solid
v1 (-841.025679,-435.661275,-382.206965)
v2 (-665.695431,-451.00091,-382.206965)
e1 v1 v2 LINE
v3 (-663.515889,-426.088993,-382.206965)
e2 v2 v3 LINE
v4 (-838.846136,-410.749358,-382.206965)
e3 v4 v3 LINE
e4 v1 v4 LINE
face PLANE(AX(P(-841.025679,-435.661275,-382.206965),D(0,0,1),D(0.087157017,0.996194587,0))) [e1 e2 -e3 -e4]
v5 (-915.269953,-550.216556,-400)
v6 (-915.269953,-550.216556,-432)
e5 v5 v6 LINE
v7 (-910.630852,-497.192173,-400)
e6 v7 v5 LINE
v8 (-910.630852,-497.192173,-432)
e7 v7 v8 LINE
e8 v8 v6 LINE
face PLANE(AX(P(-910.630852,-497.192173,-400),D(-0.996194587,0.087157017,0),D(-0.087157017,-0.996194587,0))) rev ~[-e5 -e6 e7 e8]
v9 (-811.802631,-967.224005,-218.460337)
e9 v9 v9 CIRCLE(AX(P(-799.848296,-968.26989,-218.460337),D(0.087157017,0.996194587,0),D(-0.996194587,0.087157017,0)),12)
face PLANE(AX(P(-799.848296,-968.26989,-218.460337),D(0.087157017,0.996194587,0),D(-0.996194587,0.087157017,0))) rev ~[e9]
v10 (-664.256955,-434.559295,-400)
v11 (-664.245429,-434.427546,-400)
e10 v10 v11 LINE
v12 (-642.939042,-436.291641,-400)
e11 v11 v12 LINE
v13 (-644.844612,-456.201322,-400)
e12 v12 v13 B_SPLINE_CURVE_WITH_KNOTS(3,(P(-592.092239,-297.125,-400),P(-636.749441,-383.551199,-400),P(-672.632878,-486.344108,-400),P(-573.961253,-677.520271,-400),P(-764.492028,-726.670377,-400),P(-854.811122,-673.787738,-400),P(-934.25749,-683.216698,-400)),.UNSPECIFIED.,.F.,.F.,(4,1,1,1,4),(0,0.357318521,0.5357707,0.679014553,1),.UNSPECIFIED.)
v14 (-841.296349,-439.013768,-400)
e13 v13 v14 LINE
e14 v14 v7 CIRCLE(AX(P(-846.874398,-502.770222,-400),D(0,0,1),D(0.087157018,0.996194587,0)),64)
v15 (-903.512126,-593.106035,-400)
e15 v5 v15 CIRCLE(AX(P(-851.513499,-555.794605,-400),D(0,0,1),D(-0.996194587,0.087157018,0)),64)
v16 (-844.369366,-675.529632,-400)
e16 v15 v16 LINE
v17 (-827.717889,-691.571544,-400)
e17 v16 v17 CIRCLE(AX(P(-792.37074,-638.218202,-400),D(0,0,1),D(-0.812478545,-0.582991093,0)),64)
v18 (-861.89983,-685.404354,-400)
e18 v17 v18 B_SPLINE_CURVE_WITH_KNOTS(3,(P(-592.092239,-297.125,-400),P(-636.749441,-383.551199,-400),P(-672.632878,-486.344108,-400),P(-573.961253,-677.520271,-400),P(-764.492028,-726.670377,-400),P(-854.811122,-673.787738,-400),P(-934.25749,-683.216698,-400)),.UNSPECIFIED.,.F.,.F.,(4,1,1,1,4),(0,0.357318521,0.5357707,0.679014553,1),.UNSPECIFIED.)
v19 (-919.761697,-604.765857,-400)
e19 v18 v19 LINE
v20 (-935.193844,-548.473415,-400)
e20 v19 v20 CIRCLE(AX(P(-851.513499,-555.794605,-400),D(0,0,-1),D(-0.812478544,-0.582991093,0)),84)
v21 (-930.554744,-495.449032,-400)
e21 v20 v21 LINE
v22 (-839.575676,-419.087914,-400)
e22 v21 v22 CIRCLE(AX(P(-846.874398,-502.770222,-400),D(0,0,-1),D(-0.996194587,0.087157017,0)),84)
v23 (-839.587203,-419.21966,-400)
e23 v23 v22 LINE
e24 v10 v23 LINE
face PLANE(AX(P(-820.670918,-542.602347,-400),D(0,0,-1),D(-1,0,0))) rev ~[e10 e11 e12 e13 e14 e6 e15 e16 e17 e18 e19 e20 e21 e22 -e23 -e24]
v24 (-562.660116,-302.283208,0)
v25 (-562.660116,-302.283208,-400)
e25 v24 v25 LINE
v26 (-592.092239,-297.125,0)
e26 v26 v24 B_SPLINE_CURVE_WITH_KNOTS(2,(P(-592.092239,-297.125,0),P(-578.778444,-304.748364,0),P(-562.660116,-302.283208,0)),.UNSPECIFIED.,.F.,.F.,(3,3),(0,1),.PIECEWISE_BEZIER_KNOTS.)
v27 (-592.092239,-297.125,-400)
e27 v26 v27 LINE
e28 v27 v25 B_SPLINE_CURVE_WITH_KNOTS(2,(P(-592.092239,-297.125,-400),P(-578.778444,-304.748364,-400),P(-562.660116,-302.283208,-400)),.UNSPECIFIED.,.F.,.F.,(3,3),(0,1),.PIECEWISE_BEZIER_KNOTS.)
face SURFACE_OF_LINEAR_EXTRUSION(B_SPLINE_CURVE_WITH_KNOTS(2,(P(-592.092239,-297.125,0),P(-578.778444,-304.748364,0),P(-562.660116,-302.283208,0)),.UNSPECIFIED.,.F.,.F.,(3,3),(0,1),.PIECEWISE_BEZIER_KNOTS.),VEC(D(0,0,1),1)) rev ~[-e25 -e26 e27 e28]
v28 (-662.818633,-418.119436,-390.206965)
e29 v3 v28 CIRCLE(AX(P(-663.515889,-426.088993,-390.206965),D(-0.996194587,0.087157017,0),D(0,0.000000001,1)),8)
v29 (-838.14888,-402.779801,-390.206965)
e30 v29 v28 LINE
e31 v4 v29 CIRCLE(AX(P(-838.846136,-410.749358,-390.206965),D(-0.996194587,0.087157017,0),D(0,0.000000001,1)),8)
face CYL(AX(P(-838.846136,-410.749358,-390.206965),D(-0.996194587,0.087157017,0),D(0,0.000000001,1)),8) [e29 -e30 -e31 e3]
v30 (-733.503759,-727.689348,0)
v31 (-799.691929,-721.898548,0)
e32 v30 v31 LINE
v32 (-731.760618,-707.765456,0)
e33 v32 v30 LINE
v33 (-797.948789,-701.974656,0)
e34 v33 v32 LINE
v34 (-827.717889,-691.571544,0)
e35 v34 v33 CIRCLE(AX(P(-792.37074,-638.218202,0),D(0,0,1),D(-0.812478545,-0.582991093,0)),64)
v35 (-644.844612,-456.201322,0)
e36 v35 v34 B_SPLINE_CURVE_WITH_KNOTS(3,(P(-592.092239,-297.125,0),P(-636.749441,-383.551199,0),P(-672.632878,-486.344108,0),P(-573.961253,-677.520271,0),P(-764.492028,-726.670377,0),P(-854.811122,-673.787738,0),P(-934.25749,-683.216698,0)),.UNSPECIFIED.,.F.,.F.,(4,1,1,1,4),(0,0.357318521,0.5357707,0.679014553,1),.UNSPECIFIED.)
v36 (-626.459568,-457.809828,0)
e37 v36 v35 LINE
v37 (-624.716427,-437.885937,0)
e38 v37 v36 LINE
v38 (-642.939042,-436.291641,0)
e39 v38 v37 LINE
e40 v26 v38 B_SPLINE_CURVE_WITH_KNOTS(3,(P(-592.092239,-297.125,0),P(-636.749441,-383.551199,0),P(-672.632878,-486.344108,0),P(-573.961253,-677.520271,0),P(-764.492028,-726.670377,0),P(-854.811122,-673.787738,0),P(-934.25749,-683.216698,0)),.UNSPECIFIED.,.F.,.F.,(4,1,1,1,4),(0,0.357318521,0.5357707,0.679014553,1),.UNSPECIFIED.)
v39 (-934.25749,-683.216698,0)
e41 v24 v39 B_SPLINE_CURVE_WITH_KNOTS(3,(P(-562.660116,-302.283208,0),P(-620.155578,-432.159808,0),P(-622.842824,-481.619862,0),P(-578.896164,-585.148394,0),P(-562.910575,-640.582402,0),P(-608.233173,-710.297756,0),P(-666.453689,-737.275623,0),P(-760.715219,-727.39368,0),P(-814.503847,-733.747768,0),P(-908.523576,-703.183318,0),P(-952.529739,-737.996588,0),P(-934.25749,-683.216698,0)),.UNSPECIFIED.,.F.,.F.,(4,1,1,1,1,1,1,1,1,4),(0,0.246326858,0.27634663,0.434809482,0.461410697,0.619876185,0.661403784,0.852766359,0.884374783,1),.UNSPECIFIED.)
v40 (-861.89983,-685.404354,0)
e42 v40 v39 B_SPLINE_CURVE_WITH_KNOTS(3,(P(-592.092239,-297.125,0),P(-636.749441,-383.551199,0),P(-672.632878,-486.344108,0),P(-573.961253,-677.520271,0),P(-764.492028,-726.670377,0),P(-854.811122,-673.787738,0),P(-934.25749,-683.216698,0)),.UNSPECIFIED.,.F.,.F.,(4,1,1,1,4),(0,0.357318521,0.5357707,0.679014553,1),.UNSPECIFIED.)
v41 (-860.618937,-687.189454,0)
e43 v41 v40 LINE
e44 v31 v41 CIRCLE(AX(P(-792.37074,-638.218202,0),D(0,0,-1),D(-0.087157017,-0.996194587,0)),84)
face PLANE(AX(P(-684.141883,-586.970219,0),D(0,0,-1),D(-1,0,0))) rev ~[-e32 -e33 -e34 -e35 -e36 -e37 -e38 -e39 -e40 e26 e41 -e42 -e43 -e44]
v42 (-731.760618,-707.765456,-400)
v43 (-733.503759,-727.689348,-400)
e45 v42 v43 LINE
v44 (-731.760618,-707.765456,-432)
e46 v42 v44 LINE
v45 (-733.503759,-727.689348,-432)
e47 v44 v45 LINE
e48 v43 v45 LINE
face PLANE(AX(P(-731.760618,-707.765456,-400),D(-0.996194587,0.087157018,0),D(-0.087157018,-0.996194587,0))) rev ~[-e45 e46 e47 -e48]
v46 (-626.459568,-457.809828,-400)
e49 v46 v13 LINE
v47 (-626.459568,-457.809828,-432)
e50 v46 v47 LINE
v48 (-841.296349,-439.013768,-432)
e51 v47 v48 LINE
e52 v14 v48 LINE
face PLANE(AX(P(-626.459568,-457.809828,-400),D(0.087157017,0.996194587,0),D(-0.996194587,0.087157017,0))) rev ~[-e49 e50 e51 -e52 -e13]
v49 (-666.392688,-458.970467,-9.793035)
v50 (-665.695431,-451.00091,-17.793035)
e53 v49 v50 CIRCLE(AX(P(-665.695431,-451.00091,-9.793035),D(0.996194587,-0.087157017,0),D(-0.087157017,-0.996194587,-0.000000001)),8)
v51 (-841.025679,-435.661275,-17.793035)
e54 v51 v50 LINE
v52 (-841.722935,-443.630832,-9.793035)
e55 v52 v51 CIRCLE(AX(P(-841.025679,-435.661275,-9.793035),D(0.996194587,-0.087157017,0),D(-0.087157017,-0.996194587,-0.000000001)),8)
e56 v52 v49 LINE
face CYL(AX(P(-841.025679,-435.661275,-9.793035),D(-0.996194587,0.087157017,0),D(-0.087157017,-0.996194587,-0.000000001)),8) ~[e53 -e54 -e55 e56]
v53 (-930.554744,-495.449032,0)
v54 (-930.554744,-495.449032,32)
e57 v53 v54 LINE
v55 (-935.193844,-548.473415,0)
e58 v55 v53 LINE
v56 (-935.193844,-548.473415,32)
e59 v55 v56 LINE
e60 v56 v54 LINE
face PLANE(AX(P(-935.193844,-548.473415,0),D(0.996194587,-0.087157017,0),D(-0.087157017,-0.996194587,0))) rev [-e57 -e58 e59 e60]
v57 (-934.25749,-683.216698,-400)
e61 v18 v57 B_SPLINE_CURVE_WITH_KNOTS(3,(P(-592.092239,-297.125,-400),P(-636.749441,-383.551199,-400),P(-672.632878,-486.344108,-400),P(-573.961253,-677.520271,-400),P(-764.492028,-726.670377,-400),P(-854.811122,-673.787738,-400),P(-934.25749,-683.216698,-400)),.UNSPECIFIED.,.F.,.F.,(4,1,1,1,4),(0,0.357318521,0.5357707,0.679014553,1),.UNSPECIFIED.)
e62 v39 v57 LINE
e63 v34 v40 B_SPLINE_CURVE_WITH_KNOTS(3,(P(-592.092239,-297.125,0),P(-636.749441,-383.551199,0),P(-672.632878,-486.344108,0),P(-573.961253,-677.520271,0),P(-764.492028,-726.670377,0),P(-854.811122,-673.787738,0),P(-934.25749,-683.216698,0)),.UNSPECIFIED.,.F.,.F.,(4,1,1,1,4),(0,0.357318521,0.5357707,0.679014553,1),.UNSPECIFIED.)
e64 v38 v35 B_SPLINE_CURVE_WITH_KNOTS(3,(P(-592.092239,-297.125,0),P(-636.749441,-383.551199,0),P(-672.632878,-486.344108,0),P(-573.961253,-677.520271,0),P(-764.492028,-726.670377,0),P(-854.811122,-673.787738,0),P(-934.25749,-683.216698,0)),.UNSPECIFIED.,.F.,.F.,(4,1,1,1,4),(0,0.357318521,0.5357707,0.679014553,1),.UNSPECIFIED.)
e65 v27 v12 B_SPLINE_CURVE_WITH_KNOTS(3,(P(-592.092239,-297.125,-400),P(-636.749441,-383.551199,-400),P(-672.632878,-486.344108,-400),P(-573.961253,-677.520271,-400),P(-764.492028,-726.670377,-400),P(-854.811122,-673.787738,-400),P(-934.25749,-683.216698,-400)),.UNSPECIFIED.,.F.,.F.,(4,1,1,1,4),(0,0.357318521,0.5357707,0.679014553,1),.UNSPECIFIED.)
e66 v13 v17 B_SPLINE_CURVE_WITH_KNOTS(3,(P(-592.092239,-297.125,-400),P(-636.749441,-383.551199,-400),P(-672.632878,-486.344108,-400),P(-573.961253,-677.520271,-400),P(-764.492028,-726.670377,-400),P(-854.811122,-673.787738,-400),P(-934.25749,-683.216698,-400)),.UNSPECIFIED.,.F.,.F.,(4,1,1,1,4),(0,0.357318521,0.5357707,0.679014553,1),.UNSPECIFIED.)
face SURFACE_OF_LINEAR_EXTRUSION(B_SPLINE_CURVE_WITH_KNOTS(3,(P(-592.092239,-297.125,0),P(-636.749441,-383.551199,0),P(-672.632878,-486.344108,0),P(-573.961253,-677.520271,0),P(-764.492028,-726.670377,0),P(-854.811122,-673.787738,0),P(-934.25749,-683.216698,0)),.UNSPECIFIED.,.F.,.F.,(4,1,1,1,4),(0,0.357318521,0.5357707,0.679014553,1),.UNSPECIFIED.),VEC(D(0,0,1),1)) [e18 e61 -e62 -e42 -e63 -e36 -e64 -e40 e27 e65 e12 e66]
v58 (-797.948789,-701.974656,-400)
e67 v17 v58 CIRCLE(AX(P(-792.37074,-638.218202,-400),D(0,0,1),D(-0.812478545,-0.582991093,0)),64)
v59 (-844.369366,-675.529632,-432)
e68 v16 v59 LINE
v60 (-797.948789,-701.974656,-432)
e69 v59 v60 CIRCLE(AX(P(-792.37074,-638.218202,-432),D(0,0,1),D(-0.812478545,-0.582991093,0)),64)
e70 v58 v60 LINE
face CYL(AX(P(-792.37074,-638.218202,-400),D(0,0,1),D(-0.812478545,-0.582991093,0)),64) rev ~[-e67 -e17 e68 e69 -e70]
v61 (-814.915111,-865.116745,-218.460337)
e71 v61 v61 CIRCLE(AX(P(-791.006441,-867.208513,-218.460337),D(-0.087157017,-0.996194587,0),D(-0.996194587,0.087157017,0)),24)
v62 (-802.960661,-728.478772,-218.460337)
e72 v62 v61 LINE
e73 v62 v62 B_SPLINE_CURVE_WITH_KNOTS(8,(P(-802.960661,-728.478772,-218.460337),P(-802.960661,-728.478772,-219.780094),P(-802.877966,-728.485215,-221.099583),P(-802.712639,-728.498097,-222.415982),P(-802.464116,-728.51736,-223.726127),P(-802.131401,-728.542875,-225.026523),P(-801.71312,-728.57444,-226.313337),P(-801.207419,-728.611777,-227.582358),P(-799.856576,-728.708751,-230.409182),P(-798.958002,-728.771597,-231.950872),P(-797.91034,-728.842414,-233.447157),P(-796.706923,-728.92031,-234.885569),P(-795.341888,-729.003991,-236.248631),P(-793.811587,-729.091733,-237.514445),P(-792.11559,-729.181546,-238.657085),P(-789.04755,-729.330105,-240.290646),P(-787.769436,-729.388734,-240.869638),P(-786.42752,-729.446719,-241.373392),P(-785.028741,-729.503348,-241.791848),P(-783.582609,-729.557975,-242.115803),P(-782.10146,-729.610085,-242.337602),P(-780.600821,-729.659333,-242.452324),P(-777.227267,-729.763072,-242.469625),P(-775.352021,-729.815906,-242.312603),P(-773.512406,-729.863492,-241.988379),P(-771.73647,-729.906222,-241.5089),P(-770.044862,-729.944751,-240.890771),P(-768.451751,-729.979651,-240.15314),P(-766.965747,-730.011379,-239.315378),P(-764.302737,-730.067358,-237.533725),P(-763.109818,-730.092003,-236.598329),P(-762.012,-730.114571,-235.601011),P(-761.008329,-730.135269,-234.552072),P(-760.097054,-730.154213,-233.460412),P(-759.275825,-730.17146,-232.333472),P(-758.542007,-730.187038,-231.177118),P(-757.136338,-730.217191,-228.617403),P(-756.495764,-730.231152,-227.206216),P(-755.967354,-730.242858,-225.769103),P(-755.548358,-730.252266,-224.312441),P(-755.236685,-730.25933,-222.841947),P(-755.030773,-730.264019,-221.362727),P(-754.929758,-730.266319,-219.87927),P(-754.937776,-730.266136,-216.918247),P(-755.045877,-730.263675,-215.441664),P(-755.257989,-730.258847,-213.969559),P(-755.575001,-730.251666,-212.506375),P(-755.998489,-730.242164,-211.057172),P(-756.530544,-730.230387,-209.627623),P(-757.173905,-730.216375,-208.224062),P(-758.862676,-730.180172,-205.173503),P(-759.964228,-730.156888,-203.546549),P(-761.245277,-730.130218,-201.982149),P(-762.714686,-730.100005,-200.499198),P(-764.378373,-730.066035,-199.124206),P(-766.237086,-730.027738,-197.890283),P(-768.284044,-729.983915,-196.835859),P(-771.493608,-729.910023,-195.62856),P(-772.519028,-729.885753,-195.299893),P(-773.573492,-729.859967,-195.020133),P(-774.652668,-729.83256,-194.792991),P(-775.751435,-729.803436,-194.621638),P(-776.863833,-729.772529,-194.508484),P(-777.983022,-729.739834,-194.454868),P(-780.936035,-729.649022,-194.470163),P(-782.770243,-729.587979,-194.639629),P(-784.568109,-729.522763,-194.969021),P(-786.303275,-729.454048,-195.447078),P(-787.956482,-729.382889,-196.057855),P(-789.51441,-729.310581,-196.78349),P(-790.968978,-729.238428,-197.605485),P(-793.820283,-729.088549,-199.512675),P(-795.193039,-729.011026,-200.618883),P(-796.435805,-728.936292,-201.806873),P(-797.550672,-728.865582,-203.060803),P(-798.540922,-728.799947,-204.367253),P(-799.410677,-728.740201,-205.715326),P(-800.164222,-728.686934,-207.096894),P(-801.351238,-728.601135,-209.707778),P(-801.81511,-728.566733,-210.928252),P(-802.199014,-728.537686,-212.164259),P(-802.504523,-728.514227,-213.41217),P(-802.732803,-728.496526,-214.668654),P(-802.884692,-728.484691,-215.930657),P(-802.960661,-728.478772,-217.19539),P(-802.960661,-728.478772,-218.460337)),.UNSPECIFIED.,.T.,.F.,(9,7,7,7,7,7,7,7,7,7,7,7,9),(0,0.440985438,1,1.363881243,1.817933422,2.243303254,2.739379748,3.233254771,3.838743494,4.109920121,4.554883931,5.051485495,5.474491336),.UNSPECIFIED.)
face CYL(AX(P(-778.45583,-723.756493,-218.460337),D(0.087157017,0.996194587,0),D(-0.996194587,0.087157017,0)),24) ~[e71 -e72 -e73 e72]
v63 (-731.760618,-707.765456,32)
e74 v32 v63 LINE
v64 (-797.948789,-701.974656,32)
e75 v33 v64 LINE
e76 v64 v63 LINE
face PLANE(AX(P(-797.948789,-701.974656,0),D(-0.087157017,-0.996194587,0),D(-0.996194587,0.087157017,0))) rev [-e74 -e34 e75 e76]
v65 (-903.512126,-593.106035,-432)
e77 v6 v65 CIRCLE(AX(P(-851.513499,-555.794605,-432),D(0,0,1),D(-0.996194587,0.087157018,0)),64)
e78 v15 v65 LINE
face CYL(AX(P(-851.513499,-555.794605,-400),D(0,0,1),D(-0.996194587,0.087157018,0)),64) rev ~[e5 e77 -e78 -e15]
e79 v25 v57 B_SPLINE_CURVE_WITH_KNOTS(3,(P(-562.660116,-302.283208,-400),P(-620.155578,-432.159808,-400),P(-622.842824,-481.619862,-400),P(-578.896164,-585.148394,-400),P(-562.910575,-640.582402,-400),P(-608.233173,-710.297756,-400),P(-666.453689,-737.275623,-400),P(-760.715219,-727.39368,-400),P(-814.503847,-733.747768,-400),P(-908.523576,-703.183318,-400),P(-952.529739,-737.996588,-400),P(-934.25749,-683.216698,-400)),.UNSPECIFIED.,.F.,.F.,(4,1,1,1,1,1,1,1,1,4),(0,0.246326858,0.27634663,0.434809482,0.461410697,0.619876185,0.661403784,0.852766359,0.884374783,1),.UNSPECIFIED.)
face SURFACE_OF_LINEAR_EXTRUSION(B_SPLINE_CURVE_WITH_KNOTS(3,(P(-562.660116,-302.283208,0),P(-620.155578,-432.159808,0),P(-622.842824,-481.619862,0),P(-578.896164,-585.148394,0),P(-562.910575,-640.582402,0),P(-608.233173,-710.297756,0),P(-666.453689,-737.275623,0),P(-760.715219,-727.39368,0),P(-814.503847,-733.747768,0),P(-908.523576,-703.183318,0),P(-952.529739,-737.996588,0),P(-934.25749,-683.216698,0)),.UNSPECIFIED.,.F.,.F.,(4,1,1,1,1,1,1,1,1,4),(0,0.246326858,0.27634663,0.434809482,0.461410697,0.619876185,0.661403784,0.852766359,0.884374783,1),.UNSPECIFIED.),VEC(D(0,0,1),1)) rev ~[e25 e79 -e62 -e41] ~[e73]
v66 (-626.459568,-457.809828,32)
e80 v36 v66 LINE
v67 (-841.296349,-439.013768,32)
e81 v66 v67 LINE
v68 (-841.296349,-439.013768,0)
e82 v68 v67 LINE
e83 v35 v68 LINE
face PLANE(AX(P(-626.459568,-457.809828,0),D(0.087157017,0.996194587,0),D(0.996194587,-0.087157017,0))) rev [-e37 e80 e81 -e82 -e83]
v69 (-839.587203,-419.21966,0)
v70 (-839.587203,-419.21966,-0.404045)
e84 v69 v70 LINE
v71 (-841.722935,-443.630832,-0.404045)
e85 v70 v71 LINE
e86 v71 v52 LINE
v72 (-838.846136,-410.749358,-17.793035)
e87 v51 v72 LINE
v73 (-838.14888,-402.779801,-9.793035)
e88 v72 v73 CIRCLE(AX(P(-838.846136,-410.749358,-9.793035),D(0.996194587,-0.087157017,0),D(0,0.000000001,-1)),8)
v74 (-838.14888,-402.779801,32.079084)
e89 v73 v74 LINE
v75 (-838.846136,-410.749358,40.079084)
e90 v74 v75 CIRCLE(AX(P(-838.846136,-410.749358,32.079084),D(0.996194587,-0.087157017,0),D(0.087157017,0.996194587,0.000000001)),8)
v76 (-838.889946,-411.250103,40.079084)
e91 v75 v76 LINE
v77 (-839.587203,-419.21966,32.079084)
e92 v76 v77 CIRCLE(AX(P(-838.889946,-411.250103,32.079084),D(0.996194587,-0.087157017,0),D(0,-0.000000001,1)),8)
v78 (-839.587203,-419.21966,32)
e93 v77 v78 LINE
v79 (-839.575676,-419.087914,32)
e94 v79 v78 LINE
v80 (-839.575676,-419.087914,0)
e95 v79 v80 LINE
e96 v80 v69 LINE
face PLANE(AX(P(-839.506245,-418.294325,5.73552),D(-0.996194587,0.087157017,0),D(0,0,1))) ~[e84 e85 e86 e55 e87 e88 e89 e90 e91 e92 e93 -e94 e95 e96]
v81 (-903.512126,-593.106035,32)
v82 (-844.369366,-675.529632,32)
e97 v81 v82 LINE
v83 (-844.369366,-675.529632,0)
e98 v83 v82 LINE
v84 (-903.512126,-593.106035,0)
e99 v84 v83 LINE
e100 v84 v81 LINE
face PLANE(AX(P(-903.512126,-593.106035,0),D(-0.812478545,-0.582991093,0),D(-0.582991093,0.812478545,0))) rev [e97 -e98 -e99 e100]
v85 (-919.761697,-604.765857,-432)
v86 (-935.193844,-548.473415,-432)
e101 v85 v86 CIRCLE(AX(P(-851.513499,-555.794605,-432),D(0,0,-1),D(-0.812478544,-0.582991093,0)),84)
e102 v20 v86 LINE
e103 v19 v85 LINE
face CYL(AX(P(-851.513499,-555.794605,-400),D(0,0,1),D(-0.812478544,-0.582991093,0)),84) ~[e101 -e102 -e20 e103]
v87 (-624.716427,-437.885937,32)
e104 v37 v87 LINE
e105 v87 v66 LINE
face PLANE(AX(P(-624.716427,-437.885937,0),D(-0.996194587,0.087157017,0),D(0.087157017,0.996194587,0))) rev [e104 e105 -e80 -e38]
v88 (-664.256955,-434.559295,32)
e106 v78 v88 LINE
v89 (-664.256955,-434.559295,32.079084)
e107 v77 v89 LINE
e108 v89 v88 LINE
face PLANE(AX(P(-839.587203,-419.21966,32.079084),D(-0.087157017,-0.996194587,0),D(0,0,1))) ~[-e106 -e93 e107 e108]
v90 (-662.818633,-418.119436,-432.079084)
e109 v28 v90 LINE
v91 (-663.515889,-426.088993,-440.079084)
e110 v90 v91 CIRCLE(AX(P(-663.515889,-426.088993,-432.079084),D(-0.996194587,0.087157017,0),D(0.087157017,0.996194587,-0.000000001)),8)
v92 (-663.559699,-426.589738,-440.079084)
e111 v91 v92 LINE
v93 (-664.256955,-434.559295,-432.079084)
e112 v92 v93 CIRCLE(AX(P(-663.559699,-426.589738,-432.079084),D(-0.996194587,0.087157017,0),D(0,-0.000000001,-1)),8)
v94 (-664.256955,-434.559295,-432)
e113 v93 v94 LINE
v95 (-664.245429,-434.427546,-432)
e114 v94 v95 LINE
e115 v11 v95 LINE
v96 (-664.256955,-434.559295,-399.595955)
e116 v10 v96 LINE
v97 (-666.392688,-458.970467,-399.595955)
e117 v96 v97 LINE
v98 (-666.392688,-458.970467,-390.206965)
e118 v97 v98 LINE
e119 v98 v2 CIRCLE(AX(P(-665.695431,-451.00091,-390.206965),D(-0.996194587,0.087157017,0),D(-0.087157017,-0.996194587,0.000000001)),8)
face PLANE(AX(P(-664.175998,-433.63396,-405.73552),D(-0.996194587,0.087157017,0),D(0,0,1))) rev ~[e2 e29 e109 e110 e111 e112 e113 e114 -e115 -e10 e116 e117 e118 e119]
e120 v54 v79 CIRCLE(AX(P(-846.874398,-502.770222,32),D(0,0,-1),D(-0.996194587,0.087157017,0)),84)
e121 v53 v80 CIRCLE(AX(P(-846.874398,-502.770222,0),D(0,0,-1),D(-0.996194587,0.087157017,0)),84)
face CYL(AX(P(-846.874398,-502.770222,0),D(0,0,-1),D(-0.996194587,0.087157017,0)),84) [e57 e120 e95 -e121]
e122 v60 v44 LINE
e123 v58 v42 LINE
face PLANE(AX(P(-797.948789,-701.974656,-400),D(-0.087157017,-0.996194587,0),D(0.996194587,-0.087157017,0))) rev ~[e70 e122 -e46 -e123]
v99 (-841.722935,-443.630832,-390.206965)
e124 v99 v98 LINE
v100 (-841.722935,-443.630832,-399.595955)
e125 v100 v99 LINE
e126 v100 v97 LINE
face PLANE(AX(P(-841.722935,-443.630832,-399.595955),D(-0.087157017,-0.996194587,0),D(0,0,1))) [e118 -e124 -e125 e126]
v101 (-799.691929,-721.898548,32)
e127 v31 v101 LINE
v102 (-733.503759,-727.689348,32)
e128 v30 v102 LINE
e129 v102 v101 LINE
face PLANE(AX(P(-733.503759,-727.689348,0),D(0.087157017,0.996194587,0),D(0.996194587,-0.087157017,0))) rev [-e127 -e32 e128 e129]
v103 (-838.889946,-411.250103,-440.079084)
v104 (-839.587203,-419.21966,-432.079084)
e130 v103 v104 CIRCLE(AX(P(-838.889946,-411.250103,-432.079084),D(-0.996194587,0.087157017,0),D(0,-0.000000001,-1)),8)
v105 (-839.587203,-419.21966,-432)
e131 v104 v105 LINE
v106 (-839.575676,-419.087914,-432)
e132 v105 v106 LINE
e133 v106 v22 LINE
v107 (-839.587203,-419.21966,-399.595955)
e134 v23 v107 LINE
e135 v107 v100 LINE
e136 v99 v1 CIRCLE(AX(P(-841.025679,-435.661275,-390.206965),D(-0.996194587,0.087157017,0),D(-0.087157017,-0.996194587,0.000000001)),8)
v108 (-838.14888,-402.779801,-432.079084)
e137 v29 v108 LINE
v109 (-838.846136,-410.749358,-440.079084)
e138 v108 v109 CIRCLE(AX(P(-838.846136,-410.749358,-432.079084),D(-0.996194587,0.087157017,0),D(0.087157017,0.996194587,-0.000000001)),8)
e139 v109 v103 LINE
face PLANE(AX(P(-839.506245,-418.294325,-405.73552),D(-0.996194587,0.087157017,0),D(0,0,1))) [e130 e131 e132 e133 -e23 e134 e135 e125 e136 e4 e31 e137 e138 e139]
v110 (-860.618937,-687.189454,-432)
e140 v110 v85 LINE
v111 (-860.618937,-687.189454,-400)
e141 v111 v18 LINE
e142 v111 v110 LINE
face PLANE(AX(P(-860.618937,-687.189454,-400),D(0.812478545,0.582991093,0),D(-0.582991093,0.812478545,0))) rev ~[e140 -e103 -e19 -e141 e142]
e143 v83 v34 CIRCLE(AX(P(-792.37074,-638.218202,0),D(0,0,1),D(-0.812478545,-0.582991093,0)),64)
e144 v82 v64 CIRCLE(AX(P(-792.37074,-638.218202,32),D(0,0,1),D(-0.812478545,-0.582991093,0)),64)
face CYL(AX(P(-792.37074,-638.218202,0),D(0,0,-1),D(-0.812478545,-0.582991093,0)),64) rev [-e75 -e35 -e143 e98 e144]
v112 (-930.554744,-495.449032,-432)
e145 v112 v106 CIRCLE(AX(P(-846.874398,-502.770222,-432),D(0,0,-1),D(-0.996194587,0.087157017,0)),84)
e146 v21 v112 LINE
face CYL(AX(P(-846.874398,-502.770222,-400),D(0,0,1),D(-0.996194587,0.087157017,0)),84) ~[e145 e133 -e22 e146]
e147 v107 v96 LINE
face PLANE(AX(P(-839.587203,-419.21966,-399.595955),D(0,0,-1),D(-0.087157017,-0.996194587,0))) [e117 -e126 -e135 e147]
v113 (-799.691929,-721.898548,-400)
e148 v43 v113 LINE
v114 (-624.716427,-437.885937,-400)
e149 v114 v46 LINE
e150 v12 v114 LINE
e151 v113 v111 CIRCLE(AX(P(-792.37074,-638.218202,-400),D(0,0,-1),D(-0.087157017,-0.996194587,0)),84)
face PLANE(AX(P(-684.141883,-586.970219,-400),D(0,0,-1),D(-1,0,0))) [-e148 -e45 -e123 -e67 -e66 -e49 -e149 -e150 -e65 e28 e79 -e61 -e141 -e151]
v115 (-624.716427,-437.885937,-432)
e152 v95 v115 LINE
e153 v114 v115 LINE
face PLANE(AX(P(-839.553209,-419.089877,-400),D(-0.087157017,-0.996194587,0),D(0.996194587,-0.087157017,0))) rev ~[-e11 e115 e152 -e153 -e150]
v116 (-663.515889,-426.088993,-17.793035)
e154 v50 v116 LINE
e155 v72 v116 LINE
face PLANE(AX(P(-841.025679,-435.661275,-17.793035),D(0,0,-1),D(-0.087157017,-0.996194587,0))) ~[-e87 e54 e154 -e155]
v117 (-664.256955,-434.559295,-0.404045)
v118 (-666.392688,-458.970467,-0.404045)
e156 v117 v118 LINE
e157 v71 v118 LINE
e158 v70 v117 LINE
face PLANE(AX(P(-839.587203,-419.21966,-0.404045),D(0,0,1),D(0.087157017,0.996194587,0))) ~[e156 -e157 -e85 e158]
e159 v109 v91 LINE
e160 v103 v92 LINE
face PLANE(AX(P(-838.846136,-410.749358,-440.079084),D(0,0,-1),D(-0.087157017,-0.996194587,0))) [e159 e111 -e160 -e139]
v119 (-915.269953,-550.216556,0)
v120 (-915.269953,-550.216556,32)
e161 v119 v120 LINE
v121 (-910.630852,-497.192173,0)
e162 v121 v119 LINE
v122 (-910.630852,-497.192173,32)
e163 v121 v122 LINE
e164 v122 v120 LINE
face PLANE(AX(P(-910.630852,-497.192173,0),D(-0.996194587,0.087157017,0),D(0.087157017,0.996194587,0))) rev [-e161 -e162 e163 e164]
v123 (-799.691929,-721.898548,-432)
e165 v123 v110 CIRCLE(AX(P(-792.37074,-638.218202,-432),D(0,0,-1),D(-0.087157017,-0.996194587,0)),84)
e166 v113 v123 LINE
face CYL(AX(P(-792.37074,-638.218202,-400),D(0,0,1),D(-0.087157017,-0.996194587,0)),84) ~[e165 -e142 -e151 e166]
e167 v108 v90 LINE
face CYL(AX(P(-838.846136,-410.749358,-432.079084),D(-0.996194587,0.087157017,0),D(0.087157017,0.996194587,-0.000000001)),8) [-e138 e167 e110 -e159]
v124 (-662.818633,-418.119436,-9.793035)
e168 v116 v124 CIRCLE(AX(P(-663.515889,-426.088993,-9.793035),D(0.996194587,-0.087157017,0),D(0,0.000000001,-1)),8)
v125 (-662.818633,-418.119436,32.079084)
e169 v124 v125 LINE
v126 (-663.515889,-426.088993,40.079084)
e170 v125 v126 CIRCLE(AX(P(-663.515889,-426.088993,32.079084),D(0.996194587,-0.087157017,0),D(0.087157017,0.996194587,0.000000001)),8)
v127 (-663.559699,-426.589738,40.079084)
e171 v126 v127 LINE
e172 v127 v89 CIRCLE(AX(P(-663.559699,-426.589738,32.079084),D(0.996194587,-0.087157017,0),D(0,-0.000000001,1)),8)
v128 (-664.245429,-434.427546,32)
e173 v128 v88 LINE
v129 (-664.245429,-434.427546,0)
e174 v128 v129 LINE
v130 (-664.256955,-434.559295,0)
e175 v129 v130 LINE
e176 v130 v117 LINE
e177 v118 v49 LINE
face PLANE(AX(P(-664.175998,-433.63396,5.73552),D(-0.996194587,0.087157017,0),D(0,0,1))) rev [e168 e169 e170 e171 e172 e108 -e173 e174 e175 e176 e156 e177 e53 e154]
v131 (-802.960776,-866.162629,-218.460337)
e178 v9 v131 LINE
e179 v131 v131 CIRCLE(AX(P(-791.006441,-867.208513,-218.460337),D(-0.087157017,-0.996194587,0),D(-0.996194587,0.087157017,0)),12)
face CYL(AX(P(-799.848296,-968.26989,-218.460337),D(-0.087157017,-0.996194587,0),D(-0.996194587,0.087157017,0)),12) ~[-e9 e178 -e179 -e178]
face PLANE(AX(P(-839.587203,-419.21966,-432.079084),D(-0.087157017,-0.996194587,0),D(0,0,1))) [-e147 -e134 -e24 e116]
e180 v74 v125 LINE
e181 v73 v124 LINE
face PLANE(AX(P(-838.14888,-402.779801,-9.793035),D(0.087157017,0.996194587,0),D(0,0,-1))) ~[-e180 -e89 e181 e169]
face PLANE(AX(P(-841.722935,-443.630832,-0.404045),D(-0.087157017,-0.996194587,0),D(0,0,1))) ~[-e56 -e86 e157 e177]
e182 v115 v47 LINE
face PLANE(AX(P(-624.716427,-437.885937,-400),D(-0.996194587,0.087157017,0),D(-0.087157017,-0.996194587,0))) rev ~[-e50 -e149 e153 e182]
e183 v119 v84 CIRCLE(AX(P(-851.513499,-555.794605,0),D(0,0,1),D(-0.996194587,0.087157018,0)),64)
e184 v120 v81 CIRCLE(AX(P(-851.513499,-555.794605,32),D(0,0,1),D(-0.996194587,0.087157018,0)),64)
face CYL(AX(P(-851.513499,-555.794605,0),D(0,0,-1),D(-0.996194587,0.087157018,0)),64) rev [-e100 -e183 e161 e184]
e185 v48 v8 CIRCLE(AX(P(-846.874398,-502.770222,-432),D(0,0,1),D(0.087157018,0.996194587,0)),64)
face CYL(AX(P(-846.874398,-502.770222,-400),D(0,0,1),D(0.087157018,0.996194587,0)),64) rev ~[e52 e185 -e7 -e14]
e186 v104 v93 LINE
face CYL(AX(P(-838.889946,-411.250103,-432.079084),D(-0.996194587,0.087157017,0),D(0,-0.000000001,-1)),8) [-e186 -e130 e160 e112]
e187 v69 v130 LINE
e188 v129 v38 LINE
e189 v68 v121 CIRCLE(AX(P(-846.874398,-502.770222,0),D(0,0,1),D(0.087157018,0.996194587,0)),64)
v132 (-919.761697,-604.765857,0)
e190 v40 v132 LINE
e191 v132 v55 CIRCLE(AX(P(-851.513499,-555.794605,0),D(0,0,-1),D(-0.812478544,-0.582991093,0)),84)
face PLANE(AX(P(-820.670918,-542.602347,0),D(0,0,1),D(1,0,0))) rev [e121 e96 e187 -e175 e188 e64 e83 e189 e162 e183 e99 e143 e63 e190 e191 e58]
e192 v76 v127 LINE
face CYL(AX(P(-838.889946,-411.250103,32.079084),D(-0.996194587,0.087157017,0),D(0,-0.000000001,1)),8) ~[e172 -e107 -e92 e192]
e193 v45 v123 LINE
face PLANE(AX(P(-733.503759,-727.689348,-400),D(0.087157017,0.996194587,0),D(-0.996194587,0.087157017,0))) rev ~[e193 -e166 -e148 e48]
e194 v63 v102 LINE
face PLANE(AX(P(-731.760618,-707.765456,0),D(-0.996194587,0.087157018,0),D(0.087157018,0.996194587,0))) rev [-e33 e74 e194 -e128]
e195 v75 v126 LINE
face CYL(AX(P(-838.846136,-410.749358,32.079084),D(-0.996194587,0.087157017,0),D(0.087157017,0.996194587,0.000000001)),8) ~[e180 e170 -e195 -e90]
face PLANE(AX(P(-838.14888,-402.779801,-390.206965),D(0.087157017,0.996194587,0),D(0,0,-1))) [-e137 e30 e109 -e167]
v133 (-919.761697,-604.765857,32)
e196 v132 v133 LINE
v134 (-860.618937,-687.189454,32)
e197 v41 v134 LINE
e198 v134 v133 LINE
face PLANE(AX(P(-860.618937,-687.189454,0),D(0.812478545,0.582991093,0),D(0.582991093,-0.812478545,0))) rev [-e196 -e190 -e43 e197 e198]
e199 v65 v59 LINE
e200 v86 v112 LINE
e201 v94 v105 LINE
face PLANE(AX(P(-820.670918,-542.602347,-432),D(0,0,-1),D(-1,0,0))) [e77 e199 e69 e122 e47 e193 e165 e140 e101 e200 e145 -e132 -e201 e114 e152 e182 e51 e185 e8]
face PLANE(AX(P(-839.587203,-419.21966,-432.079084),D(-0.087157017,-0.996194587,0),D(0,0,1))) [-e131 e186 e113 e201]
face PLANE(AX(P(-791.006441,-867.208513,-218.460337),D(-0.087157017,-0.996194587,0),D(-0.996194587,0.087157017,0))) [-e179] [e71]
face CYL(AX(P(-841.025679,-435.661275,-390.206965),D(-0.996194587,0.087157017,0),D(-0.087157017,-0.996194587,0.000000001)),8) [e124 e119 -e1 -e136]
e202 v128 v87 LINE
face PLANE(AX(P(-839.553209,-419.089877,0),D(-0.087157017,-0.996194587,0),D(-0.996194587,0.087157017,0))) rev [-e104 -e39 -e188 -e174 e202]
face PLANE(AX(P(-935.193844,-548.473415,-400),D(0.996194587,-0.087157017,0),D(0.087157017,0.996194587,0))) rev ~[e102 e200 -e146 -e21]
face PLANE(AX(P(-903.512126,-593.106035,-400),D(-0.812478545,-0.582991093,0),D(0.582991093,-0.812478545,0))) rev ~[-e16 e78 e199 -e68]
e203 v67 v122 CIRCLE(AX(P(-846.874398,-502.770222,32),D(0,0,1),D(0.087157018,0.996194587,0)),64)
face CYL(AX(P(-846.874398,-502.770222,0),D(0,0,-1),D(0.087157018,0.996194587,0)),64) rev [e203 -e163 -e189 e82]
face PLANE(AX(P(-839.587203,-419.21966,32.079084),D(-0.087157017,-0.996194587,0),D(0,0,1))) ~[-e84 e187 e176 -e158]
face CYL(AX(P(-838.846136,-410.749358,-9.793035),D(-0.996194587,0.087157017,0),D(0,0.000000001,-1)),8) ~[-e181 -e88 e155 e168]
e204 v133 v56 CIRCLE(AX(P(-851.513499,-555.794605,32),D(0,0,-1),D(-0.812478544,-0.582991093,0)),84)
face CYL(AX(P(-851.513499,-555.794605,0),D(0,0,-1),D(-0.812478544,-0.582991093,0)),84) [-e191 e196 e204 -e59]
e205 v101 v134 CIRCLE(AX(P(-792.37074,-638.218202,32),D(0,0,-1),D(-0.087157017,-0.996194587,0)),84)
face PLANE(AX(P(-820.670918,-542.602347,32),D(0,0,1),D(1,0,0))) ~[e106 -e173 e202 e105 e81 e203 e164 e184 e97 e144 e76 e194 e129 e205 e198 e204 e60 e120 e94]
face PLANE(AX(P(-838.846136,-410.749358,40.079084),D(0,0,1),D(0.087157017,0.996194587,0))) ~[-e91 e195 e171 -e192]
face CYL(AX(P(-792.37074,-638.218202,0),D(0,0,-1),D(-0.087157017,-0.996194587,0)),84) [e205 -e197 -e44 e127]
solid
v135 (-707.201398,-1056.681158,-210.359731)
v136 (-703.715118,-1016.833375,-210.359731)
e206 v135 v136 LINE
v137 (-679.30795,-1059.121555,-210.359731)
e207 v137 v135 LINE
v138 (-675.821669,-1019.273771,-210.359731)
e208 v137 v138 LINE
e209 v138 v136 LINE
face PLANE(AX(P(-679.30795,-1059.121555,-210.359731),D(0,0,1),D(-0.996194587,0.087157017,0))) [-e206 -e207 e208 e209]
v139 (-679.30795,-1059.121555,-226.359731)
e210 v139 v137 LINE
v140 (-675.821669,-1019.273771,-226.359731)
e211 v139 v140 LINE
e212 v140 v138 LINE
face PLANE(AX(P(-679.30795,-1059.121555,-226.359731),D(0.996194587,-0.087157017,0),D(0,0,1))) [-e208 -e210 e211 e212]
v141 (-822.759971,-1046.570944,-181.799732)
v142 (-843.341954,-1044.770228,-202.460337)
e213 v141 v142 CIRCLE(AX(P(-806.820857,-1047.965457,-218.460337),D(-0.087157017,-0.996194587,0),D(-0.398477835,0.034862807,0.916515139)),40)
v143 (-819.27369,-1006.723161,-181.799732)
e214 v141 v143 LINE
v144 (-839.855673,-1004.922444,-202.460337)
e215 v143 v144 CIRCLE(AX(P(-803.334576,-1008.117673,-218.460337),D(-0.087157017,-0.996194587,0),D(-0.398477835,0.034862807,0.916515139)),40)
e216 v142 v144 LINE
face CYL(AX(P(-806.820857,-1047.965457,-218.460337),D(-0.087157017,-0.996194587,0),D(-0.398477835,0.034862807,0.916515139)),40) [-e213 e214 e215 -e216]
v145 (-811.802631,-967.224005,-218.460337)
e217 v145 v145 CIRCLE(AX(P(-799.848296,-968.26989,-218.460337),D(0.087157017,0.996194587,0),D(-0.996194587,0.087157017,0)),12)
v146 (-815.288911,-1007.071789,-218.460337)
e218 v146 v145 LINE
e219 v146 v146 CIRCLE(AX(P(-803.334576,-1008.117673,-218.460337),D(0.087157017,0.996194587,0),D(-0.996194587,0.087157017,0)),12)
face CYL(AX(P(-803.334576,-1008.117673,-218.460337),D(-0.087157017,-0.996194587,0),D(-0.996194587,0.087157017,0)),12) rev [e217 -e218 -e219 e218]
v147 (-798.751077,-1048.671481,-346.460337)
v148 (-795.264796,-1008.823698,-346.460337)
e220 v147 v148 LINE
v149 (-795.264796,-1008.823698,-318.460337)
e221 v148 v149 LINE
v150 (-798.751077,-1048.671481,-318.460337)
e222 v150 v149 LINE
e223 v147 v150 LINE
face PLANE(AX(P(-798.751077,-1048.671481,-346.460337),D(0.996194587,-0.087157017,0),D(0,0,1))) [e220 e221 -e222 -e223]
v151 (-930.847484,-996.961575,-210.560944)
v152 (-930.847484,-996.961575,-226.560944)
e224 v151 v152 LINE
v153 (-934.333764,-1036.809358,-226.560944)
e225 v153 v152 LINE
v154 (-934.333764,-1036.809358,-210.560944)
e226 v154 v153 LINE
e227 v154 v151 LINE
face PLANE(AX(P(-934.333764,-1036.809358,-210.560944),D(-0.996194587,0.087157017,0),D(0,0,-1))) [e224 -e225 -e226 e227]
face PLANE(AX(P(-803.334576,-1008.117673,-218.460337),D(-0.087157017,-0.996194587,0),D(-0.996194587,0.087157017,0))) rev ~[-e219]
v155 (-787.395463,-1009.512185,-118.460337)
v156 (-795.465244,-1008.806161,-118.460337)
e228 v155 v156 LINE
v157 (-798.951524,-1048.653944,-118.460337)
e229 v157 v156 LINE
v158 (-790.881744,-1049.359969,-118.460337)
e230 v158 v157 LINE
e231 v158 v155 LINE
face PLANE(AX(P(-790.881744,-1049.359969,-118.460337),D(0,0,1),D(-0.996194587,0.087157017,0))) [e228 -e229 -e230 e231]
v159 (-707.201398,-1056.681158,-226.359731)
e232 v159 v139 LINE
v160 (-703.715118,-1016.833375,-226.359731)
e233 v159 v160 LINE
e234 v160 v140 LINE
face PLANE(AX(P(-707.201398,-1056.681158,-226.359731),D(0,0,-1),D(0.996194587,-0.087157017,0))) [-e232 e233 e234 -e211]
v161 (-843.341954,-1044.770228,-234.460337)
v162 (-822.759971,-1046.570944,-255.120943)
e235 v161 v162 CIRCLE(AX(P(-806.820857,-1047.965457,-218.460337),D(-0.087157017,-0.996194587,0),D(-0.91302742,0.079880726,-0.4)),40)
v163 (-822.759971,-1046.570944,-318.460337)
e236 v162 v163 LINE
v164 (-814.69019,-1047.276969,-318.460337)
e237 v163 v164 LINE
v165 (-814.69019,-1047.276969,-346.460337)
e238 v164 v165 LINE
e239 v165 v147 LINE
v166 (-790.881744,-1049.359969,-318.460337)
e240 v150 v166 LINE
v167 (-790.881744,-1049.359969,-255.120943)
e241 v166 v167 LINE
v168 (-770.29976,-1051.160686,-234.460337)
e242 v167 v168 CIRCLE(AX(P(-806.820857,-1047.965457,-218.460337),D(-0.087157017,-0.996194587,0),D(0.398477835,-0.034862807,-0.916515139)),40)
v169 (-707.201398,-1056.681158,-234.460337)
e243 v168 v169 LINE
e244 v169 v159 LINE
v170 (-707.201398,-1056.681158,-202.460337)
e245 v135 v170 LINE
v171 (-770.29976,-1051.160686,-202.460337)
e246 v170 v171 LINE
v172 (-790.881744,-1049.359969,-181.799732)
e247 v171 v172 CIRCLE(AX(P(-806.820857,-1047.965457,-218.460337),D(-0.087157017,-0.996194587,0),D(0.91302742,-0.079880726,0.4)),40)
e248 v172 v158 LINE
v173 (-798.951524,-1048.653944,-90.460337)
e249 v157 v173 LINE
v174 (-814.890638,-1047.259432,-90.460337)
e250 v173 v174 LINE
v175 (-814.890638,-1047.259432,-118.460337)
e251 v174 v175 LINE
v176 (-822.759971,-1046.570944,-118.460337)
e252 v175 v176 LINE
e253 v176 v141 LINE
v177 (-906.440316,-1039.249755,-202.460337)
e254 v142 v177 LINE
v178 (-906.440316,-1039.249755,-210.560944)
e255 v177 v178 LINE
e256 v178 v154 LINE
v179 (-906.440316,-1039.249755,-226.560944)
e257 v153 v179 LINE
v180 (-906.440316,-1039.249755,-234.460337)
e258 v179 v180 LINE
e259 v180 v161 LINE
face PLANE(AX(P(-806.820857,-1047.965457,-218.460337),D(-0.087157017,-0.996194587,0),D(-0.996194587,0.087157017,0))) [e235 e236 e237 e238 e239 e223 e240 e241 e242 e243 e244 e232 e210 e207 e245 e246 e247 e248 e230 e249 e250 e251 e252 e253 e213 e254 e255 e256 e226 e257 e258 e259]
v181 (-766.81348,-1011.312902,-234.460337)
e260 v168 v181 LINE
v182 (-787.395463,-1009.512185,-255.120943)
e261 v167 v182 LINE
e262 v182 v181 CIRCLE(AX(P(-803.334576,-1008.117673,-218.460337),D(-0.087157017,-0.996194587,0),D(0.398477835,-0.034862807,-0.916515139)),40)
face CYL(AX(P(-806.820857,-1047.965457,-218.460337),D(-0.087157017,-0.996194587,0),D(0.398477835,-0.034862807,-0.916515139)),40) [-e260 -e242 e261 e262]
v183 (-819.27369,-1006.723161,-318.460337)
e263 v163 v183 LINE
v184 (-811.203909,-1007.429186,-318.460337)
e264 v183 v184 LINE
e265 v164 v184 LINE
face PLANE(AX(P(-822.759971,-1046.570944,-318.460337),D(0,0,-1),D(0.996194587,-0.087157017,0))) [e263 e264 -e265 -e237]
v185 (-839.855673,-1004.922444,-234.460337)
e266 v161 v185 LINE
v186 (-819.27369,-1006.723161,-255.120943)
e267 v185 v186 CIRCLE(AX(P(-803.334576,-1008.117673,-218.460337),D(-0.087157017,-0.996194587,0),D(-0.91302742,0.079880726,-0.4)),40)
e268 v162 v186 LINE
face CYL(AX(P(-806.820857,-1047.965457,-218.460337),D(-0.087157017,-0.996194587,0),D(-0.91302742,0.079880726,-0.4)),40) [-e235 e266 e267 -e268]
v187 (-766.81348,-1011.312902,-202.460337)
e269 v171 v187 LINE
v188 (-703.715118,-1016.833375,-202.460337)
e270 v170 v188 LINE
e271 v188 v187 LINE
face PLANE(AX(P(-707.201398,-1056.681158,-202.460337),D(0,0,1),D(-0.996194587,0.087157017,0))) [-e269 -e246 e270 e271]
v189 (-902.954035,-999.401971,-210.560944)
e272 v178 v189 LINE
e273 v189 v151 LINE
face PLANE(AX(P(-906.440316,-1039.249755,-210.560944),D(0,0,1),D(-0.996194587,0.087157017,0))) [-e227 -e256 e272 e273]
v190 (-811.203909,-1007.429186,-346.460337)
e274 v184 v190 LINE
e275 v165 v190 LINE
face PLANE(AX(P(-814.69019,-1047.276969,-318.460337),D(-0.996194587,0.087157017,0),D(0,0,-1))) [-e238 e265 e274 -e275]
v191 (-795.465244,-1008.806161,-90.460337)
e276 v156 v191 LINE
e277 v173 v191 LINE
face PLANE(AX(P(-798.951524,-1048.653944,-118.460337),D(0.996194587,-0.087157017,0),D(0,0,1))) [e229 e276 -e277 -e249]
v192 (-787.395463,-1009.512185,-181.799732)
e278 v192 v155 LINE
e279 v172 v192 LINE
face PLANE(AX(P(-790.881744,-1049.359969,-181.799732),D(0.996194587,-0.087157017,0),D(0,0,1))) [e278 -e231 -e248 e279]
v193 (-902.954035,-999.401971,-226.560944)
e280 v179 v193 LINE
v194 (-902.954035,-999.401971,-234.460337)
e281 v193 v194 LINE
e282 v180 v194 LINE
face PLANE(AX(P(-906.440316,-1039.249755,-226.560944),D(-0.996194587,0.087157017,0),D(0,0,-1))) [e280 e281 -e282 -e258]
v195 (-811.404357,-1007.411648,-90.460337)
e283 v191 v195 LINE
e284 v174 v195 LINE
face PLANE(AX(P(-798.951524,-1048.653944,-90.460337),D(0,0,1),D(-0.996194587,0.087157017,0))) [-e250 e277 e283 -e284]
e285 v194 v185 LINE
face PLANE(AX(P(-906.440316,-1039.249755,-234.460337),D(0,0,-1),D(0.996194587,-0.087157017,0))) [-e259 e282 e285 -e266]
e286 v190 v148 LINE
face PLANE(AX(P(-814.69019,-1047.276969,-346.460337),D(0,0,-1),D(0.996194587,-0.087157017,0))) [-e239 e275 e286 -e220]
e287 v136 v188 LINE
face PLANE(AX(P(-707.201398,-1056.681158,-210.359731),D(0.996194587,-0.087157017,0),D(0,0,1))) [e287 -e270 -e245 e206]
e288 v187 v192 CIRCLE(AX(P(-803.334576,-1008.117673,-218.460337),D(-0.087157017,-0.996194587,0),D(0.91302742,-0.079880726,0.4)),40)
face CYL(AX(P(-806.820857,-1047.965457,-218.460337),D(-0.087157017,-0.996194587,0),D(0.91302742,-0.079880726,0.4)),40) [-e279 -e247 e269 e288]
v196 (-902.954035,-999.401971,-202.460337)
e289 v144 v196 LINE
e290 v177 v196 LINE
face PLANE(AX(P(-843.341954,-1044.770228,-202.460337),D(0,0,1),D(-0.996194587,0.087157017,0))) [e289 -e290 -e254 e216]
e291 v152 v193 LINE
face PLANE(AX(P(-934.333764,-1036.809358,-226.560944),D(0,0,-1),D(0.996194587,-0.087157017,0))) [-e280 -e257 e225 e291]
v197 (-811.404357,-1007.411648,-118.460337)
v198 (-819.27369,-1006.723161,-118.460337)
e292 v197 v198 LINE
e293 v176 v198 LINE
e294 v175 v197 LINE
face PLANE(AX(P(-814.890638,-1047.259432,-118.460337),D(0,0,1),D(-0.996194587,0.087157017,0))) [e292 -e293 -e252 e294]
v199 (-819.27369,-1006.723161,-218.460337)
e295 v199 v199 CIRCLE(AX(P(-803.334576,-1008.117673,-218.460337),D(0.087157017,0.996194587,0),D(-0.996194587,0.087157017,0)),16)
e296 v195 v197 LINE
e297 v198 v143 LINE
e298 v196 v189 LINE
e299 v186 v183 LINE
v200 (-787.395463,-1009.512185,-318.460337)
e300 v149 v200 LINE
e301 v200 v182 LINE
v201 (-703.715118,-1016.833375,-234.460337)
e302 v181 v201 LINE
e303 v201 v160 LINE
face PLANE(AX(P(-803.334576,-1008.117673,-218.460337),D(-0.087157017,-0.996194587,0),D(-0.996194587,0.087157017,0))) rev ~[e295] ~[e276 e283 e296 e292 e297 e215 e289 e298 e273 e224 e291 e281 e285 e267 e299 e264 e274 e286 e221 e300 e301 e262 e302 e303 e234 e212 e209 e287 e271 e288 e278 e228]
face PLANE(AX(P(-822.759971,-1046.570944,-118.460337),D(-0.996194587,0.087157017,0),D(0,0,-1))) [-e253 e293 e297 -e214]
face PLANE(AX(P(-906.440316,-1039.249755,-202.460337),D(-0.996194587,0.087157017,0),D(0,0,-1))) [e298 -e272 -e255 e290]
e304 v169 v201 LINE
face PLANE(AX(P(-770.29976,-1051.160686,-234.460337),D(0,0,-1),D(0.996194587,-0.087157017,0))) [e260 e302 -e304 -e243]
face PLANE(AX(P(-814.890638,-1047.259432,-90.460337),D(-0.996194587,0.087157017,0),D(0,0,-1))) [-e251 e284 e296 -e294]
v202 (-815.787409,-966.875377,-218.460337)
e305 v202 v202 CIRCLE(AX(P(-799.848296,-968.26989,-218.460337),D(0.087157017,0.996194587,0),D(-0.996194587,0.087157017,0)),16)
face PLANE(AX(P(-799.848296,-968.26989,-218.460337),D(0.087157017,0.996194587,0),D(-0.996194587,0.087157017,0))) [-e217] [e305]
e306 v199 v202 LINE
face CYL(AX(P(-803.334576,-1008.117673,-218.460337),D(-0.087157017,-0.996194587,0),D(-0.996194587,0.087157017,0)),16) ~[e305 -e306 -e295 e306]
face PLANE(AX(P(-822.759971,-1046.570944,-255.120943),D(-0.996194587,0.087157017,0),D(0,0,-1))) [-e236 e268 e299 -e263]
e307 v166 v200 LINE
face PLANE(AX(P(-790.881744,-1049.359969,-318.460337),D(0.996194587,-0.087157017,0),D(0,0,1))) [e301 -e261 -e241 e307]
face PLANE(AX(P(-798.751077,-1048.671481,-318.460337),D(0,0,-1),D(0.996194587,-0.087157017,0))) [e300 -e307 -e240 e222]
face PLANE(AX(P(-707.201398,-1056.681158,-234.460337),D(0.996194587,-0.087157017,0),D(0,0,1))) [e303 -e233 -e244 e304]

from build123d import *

# Parameters (mm, degrees)
BOSS_EXTRUDE1_DEPTH = 50
BOSS_EXTRUDE2_DEPTH = 4
BOSS_EXTRUDE3_DEPTH = 22
BOSS_EXTRUDE4_DEPTH = 5
SKETCH11_R          = 2
SKETCH11_R_2        = 1.5
BOSS_EXTRUDE5_DEPTH = 5
BOSS_EXTRUDE6_REACH = 152.645
SKETCH12_R          = 1.5
SKETCH13_R          = 3
BOSS_EXTRUDE7_DEPTH = 18
SCALE3_SCALE        = 8


with BuildPart() as part:
    # Sketch2 → Boss-Extrude1 (new body)
    with BuildSketch(Plane.XY):
        with BuildLine():
            add(Edge.make_bspline(
                [(-70.332514526, -37.78540094), (-77.519447225, -54.019976011), (-77.855352948, -60.202482719), (-72.362020496, -73.14354919), (-70.363821929, -80.072800281), (-76.029146674, -88.787219469), (-83.306711166, -92.159452906), (-95.089402427, -90.924210045), (-101.812980865, -91.718471048), (-113.565446987, -87.897914786), (-119.066217404, -92.249573441), (-116.782186256, -85.402087302)],
                knots=[0, 0, 0, 0, 0.246326858, 0.27634663, 0.434809482, 0.461410697, 0.619876185, 0.661403784, 0.852766359, 0.884374783, 1, 1, 1, 1], degree=3))
            add(Edge.make_bspline(
                [(-74.011529837, -37.140625061), (-79.593680133, -47.943899884), (-84.079109706, -60.793013502), (-71.745156629, -84.690033856), (-95.561503485, -90.833797115), (-106.851390249, -84.223467281), (-116.782186256, -85.402087302)],
                knots=[0, 0, 0, 0, 0.357318521, 0.5357707, 0.679014553, 1, 1, 1, 1], degree=3))
            add(Edge.make_bspline(
                [(-74.011529837, -37.140625061), (-72.347305553, -38.09354545), (-70.332514526, -37.78540094)],
                knots=[0, 0, 0, 1, 1, 1], degree=2))
        make_face()
    extrude(amount=-BOSS_EXTRUDE1_DEPTH)

    # Sketch3 → Boss-Extrude2 (add)
    with BuildSketch(Plane(origin=(0, 0, -50), x_dir=(-1, 0, 0), z_dir=(0, 0, -1))):
        with BuildLine():
            Line((78.307445966, -57.226228534), (105.162043656, -54.876721046))
            ThreePointArc((105.162043656, -54.876721046), (111.001592832, -56.717915613), (113.828856489, -62.149021599))
            Line((113.828856489, -62.149021599), (114.408744086, -68.777069481))
            ThreePointArc((114.408744086, -68.777069481), (114.154519646, -71.589425674), (112.93901575, -74.138254366))
            Line((112.93901575, -74.138254366), (105.54617081, -84.441204047))
            ThreePointArc((105.54617081, -84.441204047), (103.006304618, -86.728440647), (99.743598593, -87.746831994))
            Line((99.743598593, -87.746831994), (91.470077283, -88.470681984))
            Line((91.470077283, -88.470681984), (91.687969827, -90.96116845))
            Line((91.687969827, -90.96116845), (99.961491137, -90.23731846))
            ThreePointArc((99.961491137, -90.23731846), (104.243792794, -88.900679817), (107.577367171, -85.898681779))
            Line((107.577367171, -85.898681779), (114.970212111, -75.595732099))
            ThreePointArc((114.970212111, -75.595732099), (116.565560975, -72.250394441), (116.899230552, -68.559176937))
            Line((116.899230552, -68.559176937), (116.319342955, -61.931129055))
            ThreePointArc((116.319342955, -61.931129055), (112.608559406, -54.802802449), (104.944151113, -52.386234579))
            Line((104.944151113, -52.386234579), (78.089553423, -54.735742067))
            Line((78.089553423, -54.735742067), (78.307445966, -57.226228534))
        make_face()
    boss_extrude2 = extrude(amount=BOSS_EXTRUDE2_DEPTH)

    # Sketch5 → Boss-Extrude3 (add)
    with BuildSketch(Plane(origin=(-99.601314326, 8.714114301, 0), x_dir=(0, 0, -1), z_dir=(0.9961945865661667, -0.08715701748146523, 0))):
        with BuildLine():
            Line((53.998099601, -61.350034037), (49.949494416, -61.350034037))
            Line((49.949494416, -61.350034037), (49.949494416, -63.830635766))
            Line((49.949494416, -63.830635766), (49.949494416, -64.413086704))
            Line((49.949494416, -64.413086704), (48.775870618, -64.413086704))
            ThreePointArc((48.775870618, -64.413086704), (48.068763837, -64.120193485), (47.775870618, -63.413086704))
            Line((47.775870618, -63.413086704), (47.775870618, -60.287201783))
            ThreePointArc((47.775870618, -60.287201783), (48.068763837, -59.580095002), (48.775870618, -59.287201783))
            Line((48.775870618, -59.287201783), (54.009885492, -59.287201783))
            ThreePointArc((54.009885492, -59.287201783), (54.716992273, -59.580095002), (55.009885492, -60.287201783))
            Line((55.009885492, -60.287201783), (55.009885492, -60.350034037))
            ThreePointArc((55.009885492, -60.350034037), (54.716992273, -61.057140818), (54.009885492, -61.350034037))
            Line((54.009885492, -61.350034037), (53.998099601, -61.350034037))
        make_face()
    boss_extrude3 = extrude(amount=BOSS_EXTRUDE3_DEPTH)

    # Mirror1: Boss-Extrude2, Boss-Extrude3 across plane
    add(boss_extrude2.mirror(Plane(origin=(0, 0, -25), x_dir=(1, 0, 0), z_dir=(0, 0, -1))))
    add(boss_extrude3.mirror(Plane(origin=(0, 0, -25), x_dir=(1, 0, 0), z_dir=(0, 0, -1))))

    # Sketch12 → Boss-Extrude6 (add, up to next)
    with BuildSketch(Plane(origin=(-11.268286906, -128.795210529, 0), x_dir=(0.9961945865661667, -0.0871570174814653, 0), z_dir=(0.0871570174814653, 0.9961945865661667, 0)), mode=Mode.PRIVATE) as boss_extrude6_sk1:
        with Locations(Location((-89.051628322, 27.307542158, 0), (0, 0, 180))):
            Circle(SKETCH12_R)
    boss_extrude6_tool1 = extrude(boss_extrude6_sk1.sketch, amount=BOSS_EXTRUDE6_REACH, mode=Mode.PRIVATE) - part.part
    add(boss_extrude6_tool1.solids().sort_by_distance((-99.981037, -121.033736, -27.307542))[0])

    # Sketch13 → Boss-Extrude7 (add)
    with BuildSketch(Plane(origin=(-8.594228711, -98.231035949, 0), x_dir=(0.9961945865661666, -0.08715701748146568, 0), z_dir=(-0.08715701748146568, -0.9961945865661666, 0))):
        with Locations(Location((-89.051628322, -27.307542158, 0), (0, 0, 180))):
            Circle(SKETCH13_R)
    extrude(amount=BOSS_EXTRUDE7_DEPTH)


with BuildPart() as body_2:
    # Sketch8 → Boss-Extrude4 (new body)
    with BuildSketch(Plane(origin=(-12.139857081, -138.757156394, 0), x_dir=(0.9961945865661667, -0.08715701748146525, 0), z_dir=(0.08715701748146525, 0.9961945865661667, 0))):
        with BuildLine():
            Line((-84.469052627, 29.307542158), (-76.551628322, 29.307542158))
            Line((-76.551628322, 29.307542158), (-76.551628322, 28.294966324))
            Line((-76.551628322, 28.294966324), (-73.051628322, 28.294966324))
            Line((-73.051628322, 28.294966324), (-73.051628322, 26.294966324))
            Line((-73.051628322, 26.294966324), (-76.551628322, 26.294966324))
            Line((-76.551628322, 26.294966324), (-76.551628322, 25.307542158))
            Line((-76.551628322, 25.307542158), (-84.469052627, 25.307542158))
            ThreePointArc((-84.469052627, 25.307542158), (-85.516094416, 23.772008252), (-87.051628322, 22.724966463))
            Line((-87.051628322, 22.724966463), (-87.051628322, 14.807542158))
            Line((-87.051628322, 14.807542158), (-88.064204156, 14.807542158))
            Line((-88.064204156, 14.807542158), (-88.064204156, 11.307542158))
            Line((-88.064204156, 11.307542158), (-90.064204156, 11.307542158))
            Line((-90.064204156, 11.307542158), (-90.064204156, 14.807542158))
            Line((-90.064204156, 14.807542158), (-91.051628322, 14.807542158))
            Line((-91.051628322, 14.807542158), (-91.051628322, 22.724966463))
            ThreePointArc((-91.051628322, 22.724966463), (-92.587162228, 23.772008252), (-93.634204017, 25.307542158))
            Line((-93.634204017, 25.307542158), (-101.551628322, 25.307542158))
            Line((-101.551628322, 25.307542158), (-101.551628322, 26.320117992))
            Line((-101.551628322, 26.320117992), (-105.051628322, 26.320117992))
            Line((-105.051628322, 26.320117992), (-105.051628322, 28.320117992))
            Line((-105.051628322, 28.320117992), (-101.551628322, 28.320117992))
            Line((-101.551628322, 28.320117992), (-101.551628322, 29.307542158))
            Line((-101.551628322, 29.307542158), (-93.634204017, 29.307542158))
            ThreePointArc((-93.634204017, 29.307542158), (-92.587162228, 30.843076064), (-91.051628322, 31.890117853))
            Line((-91.051628322, 31.890117853), (-91.051628322, 39.807542158))
            Line((-91.051628322, 39.807542158), (-90.039052488, 39.807542158))
            Line((-90.039052488, 39.807542158), (-90.039052488, 43.307542158))
            Line((-90.039052488, 43.307542158), (-88.039052488, 43.307542158))
            Line((-88.039052488, 43.307542158), (-88.039052488, 39.807542158))
            Line((-88.039052488, 39.807542158), (-87.051628322, 39.807542158))
            Line((-87.051628322, 39.807542158), (-87.051628322, 31.890117853))
            ThreePointArc((-87.051628322, 31.890117853), (-85.516094416, 30.843076064), (-84.469052627, 29.307542158))
        make_face()
    extrude(amount=BOSS_EXTRUDE4_DEPTH)

    # Sketch11 → Boss-Extrude5 (add)
    with BuildSketch(Plane(origin=(-11.704071993, -133.776183462, 0), x_dir=(0.9961945865661667, -0.08715701748146527, 0), z_dir=(0.08715701748146527, 0.9961945865661667, 0))):
        with Locations(Location((-89.051628322, 27.307542158, 0), (0, 0, 180))):
            Circle(SKETCH11_R)
        with Locations(Location((-89.051628322, 27.307542158, 0), (0, 0, 180))):
            Circle(SKETCH11_R_2, mode=Mode.SUBTRACT)
    extrude(amount=BOSS_EXTRUDE5_DEPTH)


with BuildPart() as part_1:
    # Scale3: scaled about (0, 0, 0)
    add(part.part.scale(SCALE3_SCALE))


with BuildPart() as body_2_1:
    # Scale3: scaled about (0, 0, 0)
    add(body_2.part.scale(SCALE3_SCALE))


solid = Compound([part_1.part, body_2_1.part])
